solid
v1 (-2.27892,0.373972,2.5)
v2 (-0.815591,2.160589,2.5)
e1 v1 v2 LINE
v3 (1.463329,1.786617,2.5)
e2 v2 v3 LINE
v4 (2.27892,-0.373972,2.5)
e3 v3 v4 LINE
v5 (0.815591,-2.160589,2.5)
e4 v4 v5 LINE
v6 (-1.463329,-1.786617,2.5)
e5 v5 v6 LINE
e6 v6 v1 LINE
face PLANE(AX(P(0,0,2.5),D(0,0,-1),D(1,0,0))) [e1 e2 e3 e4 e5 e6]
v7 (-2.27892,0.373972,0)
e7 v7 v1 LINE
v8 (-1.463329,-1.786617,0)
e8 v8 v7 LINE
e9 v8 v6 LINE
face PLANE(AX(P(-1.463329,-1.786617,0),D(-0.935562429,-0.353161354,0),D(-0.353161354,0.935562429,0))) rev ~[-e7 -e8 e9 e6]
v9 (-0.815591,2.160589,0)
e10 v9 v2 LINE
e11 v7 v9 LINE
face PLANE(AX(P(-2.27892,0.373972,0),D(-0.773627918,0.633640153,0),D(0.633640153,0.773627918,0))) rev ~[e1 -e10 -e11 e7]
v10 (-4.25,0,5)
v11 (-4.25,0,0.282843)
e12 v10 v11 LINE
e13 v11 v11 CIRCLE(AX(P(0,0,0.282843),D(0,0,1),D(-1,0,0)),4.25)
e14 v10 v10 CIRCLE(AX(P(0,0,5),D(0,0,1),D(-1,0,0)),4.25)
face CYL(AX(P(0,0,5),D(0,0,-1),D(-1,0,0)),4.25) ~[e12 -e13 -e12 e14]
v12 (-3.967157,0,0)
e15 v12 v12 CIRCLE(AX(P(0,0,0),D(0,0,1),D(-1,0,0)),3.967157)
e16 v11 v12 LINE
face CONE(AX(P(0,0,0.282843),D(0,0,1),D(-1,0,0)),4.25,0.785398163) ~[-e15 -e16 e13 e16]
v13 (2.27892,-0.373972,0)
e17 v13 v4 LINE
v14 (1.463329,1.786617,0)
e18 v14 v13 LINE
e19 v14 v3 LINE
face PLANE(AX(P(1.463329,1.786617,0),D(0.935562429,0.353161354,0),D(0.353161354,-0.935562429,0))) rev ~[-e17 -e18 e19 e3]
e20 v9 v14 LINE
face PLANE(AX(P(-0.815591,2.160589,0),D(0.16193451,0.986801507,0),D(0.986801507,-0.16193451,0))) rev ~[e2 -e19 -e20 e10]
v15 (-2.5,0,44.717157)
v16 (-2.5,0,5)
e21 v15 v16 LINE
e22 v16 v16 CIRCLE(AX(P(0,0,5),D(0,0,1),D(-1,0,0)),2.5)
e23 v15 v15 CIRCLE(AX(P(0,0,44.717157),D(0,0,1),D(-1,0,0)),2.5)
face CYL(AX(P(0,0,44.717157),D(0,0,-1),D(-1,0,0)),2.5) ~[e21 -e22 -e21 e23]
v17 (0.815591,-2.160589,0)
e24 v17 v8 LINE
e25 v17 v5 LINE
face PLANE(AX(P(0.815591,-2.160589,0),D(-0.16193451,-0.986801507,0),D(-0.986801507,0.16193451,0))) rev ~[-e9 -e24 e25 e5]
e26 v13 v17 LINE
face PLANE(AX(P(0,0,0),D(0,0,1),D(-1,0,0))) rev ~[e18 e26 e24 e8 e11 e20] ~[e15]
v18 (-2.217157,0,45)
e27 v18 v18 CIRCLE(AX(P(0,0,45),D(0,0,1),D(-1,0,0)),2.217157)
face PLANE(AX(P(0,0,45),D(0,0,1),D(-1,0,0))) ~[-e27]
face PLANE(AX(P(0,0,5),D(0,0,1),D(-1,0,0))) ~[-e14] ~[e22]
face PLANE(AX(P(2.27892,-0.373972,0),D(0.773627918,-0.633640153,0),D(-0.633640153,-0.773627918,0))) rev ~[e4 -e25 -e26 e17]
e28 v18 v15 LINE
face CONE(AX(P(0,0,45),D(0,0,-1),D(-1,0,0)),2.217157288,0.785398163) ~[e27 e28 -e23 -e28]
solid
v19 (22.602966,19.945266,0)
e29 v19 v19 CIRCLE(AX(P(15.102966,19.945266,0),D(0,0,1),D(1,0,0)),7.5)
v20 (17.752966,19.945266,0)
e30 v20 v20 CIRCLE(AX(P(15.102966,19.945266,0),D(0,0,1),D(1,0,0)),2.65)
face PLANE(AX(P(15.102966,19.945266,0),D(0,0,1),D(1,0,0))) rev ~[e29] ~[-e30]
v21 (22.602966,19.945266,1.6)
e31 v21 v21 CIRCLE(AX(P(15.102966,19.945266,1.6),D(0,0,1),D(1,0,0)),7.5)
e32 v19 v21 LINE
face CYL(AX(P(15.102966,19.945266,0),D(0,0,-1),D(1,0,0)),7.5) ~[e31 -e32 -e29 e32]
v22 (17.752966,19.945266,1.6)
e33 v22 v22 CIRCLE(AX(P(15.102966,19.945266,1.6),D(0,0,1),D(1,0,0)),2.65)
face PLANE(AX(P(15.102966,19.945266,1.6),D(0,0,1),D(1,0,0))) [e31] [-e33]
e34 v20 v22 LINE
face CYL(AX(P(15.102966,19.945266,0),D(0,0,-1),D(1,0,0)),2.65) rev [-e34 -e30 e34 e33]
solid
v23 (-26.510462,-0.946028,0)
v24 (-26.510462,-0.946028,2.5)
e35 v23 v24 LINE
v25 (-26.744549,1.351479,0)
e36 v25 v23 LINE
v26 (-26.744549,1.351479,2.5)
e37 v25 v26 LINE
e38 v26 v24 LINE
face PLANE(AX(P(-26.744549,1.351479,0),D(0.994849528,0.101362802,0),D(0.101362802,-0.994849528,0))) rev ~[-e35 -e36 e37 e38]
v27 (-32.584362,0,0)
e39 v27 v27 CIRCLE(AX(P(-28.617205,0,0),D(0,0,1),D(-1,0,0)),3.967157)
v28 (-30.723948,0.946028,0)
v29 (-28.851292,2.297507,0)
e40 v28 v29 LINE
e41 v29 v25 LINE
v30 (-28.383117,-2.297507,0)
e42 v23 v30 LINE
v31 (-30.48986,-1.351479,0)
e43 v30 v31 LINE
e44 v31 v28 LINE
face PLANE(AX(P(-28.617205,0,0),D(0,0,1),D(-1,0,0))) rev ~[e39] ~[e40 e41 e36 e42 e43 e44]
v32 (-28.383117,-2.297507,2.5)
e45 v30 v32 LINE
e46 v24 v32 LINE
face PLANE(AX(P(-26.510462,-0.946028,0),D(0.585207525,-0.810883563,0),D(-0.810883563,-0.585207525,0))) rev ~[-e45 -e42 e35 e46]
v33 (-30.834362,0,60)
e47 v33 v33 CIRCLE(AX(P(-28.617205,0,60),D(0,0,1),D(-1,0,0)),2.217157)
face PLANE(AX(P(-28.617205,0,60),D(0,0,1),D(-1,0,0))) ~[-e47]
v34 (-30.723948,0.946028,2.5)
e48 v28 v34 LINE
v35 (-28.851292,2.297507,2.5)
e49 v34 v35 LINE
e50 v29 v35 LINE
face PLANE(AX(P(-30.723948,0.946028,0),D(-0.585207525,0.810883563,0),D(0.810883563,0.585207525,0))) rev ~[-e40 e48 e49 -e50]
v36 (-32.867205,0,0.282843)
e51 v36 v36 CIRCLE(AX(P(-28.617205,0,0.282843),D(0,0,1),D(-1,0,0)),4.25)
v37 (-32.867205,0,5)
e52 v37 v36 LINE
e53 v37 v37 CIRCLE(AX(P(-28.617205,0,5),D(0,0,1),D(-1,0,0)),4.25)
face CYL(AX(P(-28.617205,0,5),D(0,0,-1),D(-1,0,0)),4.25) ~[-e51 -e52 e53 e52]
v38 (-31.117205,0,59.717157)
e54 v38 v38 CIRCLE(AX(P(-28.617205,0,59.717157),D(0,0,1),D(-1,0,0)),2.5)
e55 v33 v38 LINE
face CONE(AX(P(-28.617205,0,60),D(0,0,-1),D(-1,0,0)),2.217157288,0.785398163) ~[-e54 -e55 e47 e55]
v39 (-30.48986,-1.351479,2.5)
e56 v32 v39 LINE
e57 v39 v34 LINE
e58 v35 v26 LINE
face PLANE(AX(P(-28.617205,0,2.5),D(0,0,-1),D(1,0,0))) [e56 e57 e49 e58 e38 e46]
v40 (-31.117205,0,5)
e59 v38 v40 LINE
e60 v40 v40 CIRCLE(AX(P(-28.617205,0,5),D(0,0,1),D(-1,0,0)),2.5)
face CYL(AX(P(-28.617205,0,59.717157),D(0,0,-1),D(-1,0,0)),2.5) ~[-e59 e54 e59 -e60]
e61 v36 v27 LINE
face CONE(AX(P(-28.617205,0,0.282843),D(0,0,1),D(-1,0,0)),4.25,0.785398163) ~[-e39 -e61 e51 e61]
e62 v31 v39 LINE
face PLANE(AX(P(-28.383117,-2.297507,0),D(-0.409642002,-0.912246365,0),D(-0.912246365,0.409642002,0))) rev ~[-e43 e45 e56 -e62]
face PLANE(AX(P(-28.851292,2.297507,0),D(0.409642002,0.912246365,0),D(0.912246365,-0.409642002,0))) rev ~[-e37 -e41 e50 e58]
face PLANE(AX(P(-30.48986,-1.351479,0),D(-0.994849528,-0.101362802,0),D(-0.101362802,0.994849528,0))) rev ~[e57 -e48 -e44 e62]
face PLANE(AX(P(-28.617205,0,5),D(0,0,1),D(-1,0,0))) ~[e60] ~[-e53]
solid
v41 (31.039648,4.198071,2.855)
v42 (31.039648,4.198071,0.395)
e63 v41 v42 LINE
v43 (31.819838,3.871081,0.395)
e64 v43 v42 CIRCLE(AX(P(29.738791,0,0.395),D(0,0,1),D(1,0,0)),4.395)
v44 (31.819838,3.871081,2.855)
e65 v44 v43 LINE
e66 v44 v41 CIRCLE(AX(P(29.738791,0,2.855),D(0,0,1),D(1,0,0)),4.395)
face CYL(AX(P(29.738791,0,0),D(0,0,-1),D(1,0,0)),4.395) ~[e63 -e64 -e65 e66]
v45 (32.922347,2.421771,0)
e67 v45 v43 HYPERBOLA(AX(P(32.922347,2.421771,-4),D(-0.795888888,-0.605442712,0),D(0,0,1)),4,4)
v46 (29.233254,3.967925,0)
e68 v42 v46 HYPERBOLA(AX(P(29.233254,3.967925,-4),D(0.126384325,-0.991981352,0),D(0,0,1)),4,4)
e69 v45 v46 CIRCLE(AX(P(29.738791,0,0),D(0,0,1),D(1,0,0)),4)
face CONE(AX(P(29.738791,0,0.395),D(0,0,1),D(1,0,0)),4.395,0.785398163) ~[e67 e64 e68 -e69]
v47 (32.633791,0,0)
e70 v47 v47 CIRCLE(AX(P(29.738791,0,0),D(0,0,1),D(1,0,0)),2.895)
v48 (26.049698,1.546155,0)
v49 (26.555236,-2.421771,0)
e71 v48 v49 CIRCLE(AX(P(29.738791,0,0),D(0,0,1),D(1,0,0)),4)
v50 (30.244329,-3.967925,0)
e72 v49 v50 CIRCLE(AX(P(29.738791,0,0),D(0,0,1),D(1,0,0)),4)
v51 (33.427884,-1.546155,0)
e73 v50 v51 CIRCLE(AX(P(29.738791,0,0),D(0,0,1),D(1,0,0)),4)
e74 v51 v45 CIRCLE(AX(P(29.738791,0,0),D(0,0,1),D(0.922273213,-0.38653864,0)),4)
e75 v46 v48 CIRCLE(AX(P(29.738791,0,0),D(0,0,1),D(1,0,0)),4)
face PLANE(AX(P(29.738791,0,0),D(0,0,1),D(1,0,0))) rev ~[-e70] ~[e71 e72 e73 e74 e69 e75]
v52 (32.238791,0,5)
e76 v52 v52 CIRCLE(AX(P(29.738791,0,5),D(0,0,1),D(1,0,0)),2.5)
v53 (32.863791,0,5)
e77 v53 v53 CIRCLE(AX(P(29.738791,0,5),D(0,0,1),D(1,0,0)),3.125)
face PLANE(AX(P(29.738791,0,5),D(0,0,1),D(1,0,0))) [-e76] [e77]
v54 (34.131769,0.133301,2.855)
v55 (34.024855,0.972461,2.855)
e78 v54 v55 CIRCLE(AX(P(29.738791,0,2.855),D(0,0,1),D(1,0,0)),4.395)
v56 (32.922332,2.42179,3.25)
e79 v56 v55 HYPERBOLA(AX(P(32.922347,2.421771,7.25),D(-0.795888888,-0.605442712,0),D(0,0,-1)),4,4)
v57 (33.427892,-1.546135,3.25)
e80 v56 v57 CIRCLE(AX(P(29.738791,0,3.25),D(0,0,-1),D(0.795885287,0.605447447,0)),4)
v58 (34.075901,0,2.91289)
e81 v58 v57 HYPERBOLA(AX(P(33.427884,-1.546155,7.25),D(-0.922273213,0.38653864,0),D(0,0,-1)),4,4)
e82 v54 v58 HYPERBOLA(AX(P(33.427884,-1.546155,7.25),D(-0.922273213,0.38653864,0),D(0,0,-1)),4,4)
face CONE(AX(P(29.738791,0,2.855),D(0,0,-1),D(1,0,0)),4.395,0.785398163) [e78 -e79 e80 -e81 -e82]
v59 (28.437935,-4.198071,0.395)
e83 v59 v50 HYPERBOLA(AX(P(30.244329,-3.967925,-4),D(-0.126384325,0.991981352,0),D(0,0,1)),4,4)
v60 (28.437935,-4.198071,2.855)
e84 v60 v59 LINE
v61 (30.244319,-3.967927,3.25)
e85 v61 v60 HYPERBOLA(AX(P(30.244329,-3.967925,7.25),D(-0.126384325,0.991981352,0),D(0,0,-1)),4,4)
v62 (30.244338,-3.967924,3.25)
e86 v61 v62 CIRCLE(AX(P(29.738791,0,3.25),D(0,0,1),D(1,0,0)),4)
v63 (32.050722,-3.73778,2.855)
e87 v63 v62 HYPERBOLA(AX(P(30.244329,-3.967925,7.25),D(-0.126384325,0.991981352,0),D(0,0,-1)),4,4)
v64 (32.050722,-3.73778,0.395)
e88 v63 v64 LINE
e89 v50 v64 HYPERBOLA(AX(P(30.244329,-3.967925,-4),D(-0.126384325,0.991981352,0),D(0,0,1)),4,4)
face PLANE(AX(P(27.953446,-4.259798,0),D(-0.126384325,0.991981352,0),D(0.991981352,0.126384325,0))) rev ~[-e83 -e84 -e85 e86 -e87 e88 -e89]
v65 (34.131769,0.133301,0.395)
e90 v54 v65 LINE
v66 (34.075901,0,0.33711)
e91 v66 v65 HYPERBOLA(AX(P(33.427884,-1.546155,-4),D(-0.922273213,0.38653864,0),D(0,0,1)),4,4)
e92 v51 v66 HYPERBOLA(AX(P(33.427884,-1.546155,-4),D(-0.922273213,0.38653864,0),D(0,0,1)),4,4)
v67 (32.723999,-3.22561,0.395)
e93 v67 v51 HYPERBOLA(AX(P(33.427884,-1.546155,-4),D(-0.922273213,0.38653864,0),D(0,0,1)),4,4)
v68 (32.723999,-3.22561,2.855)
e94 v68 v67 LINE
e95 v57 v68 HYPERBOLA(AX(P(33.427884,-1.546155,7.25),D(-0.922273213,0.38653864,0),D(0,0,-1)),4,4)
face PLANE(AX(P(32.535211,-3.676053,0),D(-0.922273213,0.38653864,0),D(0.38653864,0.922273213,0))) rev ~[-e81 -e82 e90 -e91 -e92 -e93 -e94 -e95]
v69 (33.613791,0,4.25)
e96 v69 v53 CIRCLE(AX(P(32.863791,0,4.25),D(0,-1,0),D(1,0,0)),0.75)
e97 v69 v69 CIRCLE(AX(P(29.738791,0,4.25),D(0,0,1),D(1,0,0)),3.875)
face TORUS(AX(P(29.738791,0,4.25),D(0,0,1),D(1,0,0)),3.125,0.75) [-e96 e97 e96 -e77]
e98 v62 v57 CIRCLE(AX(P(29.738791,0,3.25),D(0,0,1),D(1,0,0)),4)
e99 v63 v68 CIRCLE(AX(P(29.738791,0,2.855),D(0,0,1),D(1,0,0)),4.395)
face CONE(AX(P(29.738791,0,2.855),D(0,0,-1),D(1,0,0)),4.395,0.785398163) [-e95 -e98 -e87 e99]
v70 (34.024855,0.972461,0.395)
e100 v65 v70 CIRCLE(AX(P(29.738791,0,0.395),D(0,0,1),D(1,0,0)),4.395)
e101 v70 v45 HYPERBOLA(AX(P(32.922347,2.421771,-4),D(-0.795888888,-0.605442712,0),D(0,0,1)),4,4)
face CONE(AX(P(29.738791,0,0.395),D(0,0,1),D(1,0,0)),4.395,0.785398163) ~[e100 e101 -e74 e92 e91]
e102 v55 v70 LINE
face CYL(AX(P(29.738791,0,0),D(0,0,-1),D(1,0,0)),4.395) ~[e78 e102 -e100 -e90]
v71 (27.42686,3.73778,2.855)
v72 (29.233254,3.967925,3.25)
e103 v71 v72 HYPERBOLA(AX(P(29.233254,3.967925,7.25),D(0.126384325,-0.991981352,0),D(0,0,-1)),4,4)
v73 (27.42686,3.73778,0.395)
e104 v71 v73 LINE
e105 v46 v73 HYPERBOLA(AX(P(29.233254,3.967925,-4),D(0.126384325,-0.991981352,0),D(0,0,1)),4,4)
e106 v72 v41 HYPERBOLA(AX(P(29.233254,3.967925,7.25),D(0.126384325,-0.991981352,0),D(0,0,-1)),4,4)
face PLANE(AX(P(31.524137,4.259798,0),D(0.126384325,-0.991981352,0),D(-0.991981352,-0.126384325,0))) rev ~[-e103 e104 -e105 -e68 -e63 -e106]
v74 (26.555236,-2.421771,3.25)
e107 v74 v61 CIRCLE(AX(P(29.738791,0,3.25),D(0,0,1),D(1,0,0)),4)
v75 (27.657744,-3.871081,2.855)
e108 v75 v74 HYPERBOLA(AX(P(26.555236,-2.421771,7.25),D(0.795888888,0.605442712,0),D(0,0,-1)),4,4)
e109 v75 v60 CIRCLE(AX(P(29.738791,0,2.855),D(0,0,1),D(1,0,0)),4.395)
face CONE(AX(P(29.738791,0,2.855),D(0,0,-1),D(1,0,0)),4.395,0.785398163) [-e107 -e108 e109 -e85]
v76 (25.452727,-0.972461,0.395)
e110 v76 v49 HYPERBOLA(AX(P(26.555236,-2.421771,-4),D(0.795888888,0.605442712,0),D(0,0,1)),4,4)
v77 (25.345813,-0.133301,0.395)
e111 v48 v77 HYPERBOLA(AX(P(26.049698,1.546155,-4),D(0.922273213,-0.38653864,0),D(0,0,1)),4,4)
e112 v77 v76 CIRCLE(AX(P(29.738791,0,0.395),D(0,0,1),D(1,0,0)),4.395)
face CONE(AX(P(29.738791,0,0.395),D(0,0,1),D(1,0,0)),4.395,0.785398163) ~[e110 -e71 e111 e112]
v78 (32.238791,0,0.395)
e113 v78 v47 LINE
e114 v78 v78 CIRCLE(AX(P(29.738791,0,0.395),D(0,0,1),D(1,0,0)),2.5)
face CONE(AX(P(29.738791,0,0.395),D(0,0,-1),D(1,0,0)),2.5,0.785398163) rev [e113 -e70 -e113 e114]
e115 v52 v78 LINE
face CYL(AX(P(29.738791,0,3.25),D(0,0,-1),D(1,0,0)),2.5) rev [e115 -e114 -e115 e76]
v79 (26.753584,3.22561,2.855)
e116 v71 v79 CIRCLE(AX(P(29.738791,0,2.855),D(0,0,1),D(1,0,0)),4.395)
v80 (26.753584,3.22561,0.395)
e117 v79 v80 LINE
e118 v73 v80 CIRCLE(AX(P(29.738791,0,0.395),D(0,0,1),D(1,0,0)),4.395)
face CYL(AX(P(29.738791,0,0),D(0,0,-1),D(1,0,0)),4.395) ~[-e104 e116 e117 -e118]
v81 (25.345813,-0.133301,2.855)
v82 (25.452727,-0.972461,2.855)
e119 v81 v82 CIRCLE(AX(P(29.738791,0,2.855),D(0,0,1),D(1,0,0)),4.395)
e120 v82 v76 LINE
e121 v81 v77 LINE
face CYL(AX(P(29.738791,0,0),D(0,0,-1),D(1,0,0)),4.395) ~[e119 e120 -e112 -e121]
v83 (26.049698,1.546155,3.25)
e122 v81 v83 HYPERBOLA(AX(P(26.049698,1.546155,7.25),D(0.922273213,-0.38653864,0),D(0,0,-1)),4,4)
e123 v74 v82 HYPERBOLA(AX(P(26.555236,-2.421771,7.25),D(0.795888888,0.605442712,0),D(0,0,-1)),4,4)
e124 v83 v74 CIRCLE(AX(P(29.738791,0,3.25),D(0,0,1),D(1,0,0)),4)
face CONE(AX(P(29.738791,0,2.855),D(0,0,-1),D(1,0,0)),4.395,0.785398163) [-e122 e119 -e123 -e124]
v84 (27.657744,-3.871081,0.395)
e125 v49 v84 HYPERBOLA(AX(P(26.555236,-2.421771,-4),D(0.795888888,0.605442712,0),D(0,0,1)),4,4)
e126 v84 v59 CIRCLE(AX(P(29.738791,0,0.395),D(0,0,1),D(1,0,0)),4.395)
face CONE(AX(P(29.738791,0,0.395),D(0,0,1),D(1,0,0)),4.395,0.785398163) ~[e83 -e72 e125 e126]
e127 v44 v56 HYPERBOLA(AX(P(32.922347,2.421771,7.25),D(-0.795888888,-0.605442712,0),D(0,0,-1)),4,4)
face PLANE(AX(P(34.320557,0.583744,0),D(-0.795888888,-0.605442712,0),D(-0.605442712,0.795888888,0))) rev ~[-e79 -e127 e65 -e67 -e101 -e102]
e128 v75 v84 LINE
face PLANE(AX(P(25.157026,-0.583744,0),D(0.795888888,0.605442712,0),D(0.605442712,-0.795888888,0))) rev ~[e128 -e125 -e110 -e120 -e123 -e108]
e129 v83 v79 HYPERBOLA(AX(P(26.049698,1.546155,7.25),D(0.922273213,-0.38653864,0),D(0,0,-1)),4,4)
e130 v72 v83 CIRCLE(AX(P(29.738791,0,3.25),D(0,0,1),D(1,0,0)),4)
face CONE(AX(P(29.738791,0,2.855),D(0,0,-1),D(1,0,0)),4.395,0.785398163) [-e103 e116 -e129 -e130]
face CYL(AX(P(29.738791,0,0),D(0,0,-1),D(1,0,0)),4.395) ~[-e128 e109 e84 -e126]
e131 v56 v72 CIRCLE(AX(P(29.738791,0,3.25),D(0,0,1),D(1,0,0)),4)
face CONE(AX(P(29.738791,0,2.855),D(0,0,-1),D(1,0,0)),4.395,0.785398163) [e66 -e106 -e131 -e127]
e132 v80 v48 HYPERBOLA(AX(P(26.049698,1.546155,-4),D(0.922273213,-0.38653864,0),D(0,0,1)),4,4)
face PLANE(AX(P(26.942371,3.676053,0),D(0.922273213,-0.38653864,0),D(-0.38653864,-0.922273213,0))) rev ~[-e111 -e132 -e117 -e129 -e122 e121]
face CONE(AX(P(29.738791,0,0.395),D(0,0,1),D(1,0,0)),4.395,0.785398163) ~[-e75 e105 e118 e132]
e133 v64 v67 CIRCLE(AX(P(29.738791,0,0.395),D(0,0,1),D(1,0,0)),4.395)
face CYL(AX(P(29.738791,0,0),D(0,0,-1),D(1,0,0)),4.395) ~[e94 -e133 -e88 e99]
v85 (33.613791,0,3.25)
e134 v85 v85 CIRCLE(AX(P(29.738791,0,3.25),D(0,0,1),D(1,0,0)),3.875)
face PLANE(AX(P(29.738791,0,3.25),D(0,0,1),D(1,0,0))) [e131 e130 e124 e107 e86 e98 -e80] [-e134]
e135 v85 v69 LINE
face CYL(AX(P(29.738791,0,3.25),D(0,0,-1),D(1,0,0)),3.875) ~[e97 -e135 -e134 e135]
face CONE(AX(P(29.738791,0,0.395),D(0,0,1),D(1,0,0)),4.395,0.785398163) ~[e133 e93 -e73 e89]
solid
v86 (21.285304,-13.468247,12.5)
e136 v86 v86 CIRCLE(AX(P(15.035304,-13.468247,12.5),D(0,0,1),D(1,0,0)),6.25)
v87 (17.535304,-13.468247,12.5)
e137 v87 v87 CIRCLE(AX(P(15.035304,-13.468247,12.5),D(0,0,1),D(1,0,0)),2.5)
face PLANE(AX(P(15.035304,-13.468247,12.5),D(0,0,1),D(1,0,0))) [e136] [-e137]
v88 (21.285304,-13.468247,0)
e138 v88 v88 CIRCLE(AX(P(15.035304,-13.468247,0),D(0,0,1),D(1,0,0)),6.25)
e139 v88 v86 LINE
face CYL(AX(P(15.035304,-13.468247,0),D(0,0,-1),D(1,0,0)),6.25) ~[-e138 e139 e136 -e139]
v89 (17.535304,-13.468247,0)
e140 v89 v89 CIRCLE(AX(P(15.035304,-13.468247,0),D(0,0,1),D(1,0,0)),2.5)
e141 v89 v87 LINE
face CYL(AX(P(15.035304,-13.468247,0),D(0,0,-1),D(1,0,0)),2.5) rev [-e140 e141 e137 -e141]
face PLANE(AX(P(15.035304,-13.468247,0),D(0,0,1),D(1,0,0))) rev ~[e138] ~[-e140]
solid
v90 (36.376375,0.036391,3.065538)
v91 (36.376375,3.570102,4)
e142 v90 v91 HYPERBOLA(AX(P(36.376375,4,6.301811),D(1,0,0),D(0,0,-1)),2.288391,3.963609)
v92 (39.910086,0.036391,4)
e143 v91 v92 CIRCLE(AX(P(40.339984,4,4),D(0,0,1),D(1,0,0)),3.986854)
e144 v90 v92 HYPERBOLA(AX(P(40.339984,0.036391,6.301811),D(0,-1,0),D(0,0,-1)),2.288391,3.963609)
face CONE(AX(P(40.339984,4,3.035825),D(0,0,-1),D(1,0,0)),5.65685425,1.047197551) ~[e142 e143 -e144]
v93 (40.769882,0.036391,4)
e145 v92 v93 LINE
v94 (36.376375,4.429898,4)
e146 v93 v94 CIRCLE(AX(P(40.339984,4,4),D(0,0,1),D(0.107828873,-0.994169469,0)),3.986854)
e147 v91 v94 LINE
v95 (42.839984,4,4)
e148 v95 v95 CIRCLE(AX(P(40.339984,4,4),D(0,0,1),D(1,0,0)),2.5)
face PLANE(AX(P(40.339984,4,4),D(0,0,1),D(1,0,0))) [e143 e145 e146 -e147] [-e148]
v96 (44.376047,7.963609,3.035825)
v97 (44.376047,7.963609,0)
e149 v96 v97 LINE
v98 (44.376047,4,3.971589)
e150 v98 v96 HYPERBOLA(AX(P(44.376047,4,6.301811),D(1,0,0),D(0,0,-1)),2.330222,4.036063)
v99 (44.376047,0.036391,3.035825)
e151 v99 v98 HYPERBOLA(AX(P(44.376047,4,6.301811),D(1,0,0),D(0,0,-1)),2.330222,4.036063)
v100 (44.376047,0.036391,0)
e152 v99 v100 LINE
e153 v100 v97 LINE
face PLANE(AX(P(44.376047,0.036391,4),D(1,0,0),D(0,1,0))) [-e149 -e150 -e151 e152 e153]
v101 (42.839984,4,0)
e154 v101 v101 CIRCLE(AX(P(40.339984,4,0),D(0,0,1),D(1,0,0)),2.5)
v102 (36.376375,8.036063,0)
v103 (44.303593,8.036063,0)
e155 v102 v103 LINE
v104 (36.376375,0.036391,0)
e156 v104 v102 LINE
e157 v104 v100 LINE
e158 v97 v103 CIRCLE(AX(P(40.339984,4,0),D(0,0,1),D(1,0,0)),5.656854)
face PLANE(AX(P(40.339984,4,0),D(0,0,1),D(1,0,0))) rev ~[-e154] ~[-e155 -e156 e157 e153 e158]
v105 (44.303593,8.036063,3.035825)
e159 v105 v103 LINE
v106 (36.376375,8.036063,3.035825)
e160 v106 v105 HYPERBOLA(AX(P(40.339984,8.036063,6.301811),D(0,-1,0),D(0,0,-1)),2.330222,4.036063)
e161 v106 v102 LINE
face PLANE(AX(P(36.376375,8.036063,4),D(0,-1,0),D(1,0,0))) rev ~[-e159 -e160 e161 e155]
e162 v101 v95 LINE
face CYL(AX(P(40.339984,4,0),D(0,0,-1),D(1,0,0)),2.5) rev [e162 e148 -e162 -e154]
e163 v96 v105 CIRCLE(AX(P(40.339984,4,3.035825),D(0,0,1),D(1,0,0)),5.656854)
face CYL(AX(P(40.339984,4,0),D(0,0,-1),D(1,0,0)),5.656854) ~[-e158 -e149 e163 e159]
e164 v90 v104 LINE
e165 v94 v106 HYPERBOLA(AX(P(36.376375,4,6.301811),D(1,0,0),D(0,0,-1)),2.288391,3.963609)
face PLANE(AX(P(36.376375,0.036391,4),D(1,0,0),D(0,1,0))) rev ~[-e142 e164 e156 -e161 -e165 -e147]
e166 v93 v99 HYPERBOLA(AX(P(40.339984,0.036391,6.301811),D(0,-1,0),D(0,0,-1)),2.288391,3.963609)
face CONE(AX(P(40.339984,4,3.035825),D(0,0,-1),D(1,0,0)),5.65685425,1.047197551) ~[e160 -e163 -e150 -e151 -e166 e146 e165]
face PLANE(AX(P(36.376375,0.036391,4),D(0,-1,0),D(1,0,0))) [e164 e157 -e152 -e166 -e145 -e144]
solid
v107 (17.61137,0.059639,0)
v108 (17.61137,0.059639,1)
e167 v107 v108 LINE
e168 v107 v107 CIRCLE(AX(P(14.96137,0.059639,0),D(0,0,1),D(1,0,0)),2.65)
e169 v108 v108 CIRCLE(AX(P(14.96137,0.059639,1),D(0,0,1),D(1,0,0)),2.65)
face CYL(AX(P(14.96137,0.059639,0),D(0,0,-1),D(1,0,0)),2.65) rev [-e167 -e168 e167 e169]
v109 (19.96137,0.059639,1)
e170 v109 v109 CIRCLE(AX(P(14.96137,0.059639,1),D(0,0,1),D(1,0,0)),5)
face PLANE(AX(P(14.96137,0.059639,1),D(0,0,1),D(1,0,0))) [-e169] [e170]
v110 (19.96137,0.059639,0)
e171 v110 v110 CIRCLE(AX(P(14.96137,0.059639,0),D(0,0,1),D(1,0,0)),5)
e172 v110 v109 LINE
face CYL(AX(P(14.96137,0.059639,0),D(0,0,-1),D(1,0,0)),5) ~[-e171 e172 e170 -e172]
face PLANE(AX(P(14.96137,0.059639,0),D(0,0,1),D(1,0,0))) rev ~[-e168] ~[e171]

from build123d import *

# Parameters (mm, degrees)
F3_DEPTH  = 2.5
F4_R      = 5
F4_R_2    = 2.65
F5_DEPTH  = 1
F6_R      = 4.395
F6_R_2    = 2.5
F7_DEPTH  = 3.25
F8_SIZE   = 0.395
F9_R      = 6.6262147002
F10_DEPTH = 25
F11_R     = 3.875
F11_R_2   = 2.5
F12_DEPTH = 1.75
F13_R     = 0.75
F14_R     = 5.6568542495
F14_R_2   = 2.5
F15_DEPTH = 4
F16_SIZE2 = 0.9641749495
F16_SIZE  = 1.67
F17_W     = 15.1353180408
F17_H     = 15.3016392142
F17_W_2   = 7.9996718913
F17_H_2   = 7.9996718913
F18_DEPTH = 4.001
F22_DEPTH = 2.5
F23_R     = 6.25
F23_R_2   = 2.5
F24_DEPTH = 12.5
F25_R     = 7.5
F25_R_2   = 2.65
F26_DEPTH = 1.6


with BuildPart() as f1:
    # F0 (on Front) → F1 (revolve)
    with BuildSketch(Plane.XZ):
        Polygon((-2.5, 5), (-4.25, 5), (-4.25, 0.2828427125), (-3.9671572875, 0), (0, 0), (0, 5), (0, 45), (-2.2171572875, 45), (-2.5, 44.7171572875), align=None)
    revolve(axis=Axis((0, 0, 25), (0, 0, 1)))

    # F2 (on face) → F3 (cut)
    with BuildSketch(Plane(origin=(0, 0, 0), x_dir=(1, 0, 0), z_dir=(0, 0, -1))):
        Polygon((2.2789204629, 0.3739717329), (0.8155912105, 2.1605888805), (-1.4633292524, 1.7866171477), (-2.2789204629, -0.3739717329), (-0.8155912105, -2.1605888805), (1.4633292524, -1.7866171477), align=None)
    extrude(amount=-F3_DEPTH, mode=Mode.SUBTRACT)


with BuildPart() as f5:
    # F4 (on Top) → F5 (new body)
    with BuildSketch(Plane.XY):
        with Locations((14.961370267, 0.0596389182)):
            Circle(F4_R)
        with Locations((14.961370267, 0.0596389182)):
            Circle(F4_R_2, mode=Mode.SUBTRACT)
    extrude(amount=F5_DEPTH)


with BuildPart() as f7:
    # F6 (on Top) → F7 (new body)
    with BuildSketch(Plane.XY):
        with Locations((29.7387912412, 0)):
            Circle(F6_R)
        with Locations((29.7387912412, 0)):
            Circle(F6_R_2, mode=Mode.SUBTRACT)
    extrude(amount=F7_DEPTH)

    # F8
    f8_edges = [f7.edges().sort_by_distance(p)[0] for p in [
        (27.238791, 0, 0),
        (25.343791, 0, 0),
        (25.343791, 0, 3.25),
    ]]
    chamfer(f8_edges, length=F8_SIZE)

    # F9 (on face) → F10 (cut)
    with BuildSketch(Plane(origin=(0, 0, 0), x_dir=(1, 0, 0), z_dir=(0, 0, -1))):
        with Locations((29.7387912412, 0)):
            Circle(F9_R)
        Polygon((26.9423711402, -3.676053312), (25.1570256369, 0.5837441911), (27.9534457378, 4.259797503), (32.5352113421, 3.676053312), (34.3205568454, -0.5837441911), (31.5241367445, -4.259797503), align=None, mode=Mode.SUBTRACT)
    extrude(amount=-F10_DEPTH, mode=Mode.SUBTRACT)

    # F11 (on face) → F12 (join)
    with BuildSketch(Plane.XY.offset(3.25)):
        with Locations((29.7387912412, 0)):
            Circle(F11_R)
        with Locations((29.7387912412, 0)):
            Circle(F11_R_2, mode=Mode.SUBTRACT)
    extrude(amount=F12_DEPTH)

    # F13
    f13_edges = [f7.edges().sort_by_distance(p)[0] for p in [
        (25.863791, 0, 5),
    ]]
    fillet(f13_edges, radius=F13_R)


with BuildPart() as f15:
    # F14 (on Top) → F15 (new body)
    with BuildSketch(Plane.XY):
        with Locations((40.3399839997, 4)):
            Circle(F14_R)
        with Locations((40.3399839997, 4)):
            Circle(F14_R_2, mode=Mode.SUBTRACT)
    extrude(amount=F15_DEPTH)

    # F16
    f16_edges = [f15.edges().sort_by_distance(p)[0] for p in [
        (34.68313, 4, 4),
    ]]
    f16_side = f15.faces().sort_by_distance((34.84313, 4, 4))[0]
    chamfer(f16_edges, length=F16_SIZE, length2=F16_SIZE2, reference=f16_side)

    # F17 (on face) → F18 (cut, through all)
    with BuildSketch(Plane.XY.offset(4)):
        with Locations((41.0747788846, 4.0218560025)):
            Rectangle(F17_W, F17_H)
        with Locations((40.3762111713, 4.0362271715)):
            Rectangle(F17_W_2, F17_H_2, mode=Mode.SUBTRACT)
    extrude(amount=-F18_DEPTH, mode=Mode.SUBTRACT)


with BuildPart() as f20:
    # F19 (on Front) → F20 (revolve)
    with BuildSketch(Plane.XZ):
        Polygon((-31.117204776, 5), (-32.867204776, 5), (-32.867204776, 0.2828427125), (-32.5843620636, 0), (-28.617204776, 0), (-28.617204776, 5), (-28.617204776, 60), (-30.8343620636, 60), (-31.117204776, 59.7171572875), align=None)
    revolve(axis=Axis((-28.617204776, 0, 32.5), (0, 0, 1)))

    # F21 (on face) → F22 (cut)
    with BuildSketch(Plane(origin=(0, 0, 0), x_dir=(1, 0, 0), z_dir=(0, 0, -1))):
        Polygon((-26.510462039, 0.946027681), (-28.3831174119, 2.29750657), (-30.489860149, 1.351478889), (-30.7239475131, -0.946027681), (-28.8512921401, -2.29750657), (-26.7445494031, -1.351478889), align=None)
    extrude(amount=-F22_DEPTH, mode=Mode.SUBTRACT)


with BuildPart() as f24:
    # F23 (on Top) → F24 (new body)
    with BuildSketch(Plane.XY):
        with Locations((15.0353042409, -13.468246907)):
            Circle(F23_R)
        with Locations((15.0353042409, -13.468246907)):
            Circle(F23_R_2, mode=Mode.SUBTRACT)
    extrude(amount=F24_DEPTH)


with BuildPart() as f26:
    # F25 (on Top) → F26 (new body)
    with BuildSketch(Plane.XY):
        with Locations((15.1029657573, 19.9452657253)):
            Circle(F25_R)
        with Locations((15.1029657573, 19.9452657253)):
            Circle(F25_R_2, mode=Mode.SUBTRACT)
    extrude(amount=F26_DEPTH)


solid = Compound([f1.part, f5.part, f7.part, f15.part, f20.part, f24.part, f26.part])
